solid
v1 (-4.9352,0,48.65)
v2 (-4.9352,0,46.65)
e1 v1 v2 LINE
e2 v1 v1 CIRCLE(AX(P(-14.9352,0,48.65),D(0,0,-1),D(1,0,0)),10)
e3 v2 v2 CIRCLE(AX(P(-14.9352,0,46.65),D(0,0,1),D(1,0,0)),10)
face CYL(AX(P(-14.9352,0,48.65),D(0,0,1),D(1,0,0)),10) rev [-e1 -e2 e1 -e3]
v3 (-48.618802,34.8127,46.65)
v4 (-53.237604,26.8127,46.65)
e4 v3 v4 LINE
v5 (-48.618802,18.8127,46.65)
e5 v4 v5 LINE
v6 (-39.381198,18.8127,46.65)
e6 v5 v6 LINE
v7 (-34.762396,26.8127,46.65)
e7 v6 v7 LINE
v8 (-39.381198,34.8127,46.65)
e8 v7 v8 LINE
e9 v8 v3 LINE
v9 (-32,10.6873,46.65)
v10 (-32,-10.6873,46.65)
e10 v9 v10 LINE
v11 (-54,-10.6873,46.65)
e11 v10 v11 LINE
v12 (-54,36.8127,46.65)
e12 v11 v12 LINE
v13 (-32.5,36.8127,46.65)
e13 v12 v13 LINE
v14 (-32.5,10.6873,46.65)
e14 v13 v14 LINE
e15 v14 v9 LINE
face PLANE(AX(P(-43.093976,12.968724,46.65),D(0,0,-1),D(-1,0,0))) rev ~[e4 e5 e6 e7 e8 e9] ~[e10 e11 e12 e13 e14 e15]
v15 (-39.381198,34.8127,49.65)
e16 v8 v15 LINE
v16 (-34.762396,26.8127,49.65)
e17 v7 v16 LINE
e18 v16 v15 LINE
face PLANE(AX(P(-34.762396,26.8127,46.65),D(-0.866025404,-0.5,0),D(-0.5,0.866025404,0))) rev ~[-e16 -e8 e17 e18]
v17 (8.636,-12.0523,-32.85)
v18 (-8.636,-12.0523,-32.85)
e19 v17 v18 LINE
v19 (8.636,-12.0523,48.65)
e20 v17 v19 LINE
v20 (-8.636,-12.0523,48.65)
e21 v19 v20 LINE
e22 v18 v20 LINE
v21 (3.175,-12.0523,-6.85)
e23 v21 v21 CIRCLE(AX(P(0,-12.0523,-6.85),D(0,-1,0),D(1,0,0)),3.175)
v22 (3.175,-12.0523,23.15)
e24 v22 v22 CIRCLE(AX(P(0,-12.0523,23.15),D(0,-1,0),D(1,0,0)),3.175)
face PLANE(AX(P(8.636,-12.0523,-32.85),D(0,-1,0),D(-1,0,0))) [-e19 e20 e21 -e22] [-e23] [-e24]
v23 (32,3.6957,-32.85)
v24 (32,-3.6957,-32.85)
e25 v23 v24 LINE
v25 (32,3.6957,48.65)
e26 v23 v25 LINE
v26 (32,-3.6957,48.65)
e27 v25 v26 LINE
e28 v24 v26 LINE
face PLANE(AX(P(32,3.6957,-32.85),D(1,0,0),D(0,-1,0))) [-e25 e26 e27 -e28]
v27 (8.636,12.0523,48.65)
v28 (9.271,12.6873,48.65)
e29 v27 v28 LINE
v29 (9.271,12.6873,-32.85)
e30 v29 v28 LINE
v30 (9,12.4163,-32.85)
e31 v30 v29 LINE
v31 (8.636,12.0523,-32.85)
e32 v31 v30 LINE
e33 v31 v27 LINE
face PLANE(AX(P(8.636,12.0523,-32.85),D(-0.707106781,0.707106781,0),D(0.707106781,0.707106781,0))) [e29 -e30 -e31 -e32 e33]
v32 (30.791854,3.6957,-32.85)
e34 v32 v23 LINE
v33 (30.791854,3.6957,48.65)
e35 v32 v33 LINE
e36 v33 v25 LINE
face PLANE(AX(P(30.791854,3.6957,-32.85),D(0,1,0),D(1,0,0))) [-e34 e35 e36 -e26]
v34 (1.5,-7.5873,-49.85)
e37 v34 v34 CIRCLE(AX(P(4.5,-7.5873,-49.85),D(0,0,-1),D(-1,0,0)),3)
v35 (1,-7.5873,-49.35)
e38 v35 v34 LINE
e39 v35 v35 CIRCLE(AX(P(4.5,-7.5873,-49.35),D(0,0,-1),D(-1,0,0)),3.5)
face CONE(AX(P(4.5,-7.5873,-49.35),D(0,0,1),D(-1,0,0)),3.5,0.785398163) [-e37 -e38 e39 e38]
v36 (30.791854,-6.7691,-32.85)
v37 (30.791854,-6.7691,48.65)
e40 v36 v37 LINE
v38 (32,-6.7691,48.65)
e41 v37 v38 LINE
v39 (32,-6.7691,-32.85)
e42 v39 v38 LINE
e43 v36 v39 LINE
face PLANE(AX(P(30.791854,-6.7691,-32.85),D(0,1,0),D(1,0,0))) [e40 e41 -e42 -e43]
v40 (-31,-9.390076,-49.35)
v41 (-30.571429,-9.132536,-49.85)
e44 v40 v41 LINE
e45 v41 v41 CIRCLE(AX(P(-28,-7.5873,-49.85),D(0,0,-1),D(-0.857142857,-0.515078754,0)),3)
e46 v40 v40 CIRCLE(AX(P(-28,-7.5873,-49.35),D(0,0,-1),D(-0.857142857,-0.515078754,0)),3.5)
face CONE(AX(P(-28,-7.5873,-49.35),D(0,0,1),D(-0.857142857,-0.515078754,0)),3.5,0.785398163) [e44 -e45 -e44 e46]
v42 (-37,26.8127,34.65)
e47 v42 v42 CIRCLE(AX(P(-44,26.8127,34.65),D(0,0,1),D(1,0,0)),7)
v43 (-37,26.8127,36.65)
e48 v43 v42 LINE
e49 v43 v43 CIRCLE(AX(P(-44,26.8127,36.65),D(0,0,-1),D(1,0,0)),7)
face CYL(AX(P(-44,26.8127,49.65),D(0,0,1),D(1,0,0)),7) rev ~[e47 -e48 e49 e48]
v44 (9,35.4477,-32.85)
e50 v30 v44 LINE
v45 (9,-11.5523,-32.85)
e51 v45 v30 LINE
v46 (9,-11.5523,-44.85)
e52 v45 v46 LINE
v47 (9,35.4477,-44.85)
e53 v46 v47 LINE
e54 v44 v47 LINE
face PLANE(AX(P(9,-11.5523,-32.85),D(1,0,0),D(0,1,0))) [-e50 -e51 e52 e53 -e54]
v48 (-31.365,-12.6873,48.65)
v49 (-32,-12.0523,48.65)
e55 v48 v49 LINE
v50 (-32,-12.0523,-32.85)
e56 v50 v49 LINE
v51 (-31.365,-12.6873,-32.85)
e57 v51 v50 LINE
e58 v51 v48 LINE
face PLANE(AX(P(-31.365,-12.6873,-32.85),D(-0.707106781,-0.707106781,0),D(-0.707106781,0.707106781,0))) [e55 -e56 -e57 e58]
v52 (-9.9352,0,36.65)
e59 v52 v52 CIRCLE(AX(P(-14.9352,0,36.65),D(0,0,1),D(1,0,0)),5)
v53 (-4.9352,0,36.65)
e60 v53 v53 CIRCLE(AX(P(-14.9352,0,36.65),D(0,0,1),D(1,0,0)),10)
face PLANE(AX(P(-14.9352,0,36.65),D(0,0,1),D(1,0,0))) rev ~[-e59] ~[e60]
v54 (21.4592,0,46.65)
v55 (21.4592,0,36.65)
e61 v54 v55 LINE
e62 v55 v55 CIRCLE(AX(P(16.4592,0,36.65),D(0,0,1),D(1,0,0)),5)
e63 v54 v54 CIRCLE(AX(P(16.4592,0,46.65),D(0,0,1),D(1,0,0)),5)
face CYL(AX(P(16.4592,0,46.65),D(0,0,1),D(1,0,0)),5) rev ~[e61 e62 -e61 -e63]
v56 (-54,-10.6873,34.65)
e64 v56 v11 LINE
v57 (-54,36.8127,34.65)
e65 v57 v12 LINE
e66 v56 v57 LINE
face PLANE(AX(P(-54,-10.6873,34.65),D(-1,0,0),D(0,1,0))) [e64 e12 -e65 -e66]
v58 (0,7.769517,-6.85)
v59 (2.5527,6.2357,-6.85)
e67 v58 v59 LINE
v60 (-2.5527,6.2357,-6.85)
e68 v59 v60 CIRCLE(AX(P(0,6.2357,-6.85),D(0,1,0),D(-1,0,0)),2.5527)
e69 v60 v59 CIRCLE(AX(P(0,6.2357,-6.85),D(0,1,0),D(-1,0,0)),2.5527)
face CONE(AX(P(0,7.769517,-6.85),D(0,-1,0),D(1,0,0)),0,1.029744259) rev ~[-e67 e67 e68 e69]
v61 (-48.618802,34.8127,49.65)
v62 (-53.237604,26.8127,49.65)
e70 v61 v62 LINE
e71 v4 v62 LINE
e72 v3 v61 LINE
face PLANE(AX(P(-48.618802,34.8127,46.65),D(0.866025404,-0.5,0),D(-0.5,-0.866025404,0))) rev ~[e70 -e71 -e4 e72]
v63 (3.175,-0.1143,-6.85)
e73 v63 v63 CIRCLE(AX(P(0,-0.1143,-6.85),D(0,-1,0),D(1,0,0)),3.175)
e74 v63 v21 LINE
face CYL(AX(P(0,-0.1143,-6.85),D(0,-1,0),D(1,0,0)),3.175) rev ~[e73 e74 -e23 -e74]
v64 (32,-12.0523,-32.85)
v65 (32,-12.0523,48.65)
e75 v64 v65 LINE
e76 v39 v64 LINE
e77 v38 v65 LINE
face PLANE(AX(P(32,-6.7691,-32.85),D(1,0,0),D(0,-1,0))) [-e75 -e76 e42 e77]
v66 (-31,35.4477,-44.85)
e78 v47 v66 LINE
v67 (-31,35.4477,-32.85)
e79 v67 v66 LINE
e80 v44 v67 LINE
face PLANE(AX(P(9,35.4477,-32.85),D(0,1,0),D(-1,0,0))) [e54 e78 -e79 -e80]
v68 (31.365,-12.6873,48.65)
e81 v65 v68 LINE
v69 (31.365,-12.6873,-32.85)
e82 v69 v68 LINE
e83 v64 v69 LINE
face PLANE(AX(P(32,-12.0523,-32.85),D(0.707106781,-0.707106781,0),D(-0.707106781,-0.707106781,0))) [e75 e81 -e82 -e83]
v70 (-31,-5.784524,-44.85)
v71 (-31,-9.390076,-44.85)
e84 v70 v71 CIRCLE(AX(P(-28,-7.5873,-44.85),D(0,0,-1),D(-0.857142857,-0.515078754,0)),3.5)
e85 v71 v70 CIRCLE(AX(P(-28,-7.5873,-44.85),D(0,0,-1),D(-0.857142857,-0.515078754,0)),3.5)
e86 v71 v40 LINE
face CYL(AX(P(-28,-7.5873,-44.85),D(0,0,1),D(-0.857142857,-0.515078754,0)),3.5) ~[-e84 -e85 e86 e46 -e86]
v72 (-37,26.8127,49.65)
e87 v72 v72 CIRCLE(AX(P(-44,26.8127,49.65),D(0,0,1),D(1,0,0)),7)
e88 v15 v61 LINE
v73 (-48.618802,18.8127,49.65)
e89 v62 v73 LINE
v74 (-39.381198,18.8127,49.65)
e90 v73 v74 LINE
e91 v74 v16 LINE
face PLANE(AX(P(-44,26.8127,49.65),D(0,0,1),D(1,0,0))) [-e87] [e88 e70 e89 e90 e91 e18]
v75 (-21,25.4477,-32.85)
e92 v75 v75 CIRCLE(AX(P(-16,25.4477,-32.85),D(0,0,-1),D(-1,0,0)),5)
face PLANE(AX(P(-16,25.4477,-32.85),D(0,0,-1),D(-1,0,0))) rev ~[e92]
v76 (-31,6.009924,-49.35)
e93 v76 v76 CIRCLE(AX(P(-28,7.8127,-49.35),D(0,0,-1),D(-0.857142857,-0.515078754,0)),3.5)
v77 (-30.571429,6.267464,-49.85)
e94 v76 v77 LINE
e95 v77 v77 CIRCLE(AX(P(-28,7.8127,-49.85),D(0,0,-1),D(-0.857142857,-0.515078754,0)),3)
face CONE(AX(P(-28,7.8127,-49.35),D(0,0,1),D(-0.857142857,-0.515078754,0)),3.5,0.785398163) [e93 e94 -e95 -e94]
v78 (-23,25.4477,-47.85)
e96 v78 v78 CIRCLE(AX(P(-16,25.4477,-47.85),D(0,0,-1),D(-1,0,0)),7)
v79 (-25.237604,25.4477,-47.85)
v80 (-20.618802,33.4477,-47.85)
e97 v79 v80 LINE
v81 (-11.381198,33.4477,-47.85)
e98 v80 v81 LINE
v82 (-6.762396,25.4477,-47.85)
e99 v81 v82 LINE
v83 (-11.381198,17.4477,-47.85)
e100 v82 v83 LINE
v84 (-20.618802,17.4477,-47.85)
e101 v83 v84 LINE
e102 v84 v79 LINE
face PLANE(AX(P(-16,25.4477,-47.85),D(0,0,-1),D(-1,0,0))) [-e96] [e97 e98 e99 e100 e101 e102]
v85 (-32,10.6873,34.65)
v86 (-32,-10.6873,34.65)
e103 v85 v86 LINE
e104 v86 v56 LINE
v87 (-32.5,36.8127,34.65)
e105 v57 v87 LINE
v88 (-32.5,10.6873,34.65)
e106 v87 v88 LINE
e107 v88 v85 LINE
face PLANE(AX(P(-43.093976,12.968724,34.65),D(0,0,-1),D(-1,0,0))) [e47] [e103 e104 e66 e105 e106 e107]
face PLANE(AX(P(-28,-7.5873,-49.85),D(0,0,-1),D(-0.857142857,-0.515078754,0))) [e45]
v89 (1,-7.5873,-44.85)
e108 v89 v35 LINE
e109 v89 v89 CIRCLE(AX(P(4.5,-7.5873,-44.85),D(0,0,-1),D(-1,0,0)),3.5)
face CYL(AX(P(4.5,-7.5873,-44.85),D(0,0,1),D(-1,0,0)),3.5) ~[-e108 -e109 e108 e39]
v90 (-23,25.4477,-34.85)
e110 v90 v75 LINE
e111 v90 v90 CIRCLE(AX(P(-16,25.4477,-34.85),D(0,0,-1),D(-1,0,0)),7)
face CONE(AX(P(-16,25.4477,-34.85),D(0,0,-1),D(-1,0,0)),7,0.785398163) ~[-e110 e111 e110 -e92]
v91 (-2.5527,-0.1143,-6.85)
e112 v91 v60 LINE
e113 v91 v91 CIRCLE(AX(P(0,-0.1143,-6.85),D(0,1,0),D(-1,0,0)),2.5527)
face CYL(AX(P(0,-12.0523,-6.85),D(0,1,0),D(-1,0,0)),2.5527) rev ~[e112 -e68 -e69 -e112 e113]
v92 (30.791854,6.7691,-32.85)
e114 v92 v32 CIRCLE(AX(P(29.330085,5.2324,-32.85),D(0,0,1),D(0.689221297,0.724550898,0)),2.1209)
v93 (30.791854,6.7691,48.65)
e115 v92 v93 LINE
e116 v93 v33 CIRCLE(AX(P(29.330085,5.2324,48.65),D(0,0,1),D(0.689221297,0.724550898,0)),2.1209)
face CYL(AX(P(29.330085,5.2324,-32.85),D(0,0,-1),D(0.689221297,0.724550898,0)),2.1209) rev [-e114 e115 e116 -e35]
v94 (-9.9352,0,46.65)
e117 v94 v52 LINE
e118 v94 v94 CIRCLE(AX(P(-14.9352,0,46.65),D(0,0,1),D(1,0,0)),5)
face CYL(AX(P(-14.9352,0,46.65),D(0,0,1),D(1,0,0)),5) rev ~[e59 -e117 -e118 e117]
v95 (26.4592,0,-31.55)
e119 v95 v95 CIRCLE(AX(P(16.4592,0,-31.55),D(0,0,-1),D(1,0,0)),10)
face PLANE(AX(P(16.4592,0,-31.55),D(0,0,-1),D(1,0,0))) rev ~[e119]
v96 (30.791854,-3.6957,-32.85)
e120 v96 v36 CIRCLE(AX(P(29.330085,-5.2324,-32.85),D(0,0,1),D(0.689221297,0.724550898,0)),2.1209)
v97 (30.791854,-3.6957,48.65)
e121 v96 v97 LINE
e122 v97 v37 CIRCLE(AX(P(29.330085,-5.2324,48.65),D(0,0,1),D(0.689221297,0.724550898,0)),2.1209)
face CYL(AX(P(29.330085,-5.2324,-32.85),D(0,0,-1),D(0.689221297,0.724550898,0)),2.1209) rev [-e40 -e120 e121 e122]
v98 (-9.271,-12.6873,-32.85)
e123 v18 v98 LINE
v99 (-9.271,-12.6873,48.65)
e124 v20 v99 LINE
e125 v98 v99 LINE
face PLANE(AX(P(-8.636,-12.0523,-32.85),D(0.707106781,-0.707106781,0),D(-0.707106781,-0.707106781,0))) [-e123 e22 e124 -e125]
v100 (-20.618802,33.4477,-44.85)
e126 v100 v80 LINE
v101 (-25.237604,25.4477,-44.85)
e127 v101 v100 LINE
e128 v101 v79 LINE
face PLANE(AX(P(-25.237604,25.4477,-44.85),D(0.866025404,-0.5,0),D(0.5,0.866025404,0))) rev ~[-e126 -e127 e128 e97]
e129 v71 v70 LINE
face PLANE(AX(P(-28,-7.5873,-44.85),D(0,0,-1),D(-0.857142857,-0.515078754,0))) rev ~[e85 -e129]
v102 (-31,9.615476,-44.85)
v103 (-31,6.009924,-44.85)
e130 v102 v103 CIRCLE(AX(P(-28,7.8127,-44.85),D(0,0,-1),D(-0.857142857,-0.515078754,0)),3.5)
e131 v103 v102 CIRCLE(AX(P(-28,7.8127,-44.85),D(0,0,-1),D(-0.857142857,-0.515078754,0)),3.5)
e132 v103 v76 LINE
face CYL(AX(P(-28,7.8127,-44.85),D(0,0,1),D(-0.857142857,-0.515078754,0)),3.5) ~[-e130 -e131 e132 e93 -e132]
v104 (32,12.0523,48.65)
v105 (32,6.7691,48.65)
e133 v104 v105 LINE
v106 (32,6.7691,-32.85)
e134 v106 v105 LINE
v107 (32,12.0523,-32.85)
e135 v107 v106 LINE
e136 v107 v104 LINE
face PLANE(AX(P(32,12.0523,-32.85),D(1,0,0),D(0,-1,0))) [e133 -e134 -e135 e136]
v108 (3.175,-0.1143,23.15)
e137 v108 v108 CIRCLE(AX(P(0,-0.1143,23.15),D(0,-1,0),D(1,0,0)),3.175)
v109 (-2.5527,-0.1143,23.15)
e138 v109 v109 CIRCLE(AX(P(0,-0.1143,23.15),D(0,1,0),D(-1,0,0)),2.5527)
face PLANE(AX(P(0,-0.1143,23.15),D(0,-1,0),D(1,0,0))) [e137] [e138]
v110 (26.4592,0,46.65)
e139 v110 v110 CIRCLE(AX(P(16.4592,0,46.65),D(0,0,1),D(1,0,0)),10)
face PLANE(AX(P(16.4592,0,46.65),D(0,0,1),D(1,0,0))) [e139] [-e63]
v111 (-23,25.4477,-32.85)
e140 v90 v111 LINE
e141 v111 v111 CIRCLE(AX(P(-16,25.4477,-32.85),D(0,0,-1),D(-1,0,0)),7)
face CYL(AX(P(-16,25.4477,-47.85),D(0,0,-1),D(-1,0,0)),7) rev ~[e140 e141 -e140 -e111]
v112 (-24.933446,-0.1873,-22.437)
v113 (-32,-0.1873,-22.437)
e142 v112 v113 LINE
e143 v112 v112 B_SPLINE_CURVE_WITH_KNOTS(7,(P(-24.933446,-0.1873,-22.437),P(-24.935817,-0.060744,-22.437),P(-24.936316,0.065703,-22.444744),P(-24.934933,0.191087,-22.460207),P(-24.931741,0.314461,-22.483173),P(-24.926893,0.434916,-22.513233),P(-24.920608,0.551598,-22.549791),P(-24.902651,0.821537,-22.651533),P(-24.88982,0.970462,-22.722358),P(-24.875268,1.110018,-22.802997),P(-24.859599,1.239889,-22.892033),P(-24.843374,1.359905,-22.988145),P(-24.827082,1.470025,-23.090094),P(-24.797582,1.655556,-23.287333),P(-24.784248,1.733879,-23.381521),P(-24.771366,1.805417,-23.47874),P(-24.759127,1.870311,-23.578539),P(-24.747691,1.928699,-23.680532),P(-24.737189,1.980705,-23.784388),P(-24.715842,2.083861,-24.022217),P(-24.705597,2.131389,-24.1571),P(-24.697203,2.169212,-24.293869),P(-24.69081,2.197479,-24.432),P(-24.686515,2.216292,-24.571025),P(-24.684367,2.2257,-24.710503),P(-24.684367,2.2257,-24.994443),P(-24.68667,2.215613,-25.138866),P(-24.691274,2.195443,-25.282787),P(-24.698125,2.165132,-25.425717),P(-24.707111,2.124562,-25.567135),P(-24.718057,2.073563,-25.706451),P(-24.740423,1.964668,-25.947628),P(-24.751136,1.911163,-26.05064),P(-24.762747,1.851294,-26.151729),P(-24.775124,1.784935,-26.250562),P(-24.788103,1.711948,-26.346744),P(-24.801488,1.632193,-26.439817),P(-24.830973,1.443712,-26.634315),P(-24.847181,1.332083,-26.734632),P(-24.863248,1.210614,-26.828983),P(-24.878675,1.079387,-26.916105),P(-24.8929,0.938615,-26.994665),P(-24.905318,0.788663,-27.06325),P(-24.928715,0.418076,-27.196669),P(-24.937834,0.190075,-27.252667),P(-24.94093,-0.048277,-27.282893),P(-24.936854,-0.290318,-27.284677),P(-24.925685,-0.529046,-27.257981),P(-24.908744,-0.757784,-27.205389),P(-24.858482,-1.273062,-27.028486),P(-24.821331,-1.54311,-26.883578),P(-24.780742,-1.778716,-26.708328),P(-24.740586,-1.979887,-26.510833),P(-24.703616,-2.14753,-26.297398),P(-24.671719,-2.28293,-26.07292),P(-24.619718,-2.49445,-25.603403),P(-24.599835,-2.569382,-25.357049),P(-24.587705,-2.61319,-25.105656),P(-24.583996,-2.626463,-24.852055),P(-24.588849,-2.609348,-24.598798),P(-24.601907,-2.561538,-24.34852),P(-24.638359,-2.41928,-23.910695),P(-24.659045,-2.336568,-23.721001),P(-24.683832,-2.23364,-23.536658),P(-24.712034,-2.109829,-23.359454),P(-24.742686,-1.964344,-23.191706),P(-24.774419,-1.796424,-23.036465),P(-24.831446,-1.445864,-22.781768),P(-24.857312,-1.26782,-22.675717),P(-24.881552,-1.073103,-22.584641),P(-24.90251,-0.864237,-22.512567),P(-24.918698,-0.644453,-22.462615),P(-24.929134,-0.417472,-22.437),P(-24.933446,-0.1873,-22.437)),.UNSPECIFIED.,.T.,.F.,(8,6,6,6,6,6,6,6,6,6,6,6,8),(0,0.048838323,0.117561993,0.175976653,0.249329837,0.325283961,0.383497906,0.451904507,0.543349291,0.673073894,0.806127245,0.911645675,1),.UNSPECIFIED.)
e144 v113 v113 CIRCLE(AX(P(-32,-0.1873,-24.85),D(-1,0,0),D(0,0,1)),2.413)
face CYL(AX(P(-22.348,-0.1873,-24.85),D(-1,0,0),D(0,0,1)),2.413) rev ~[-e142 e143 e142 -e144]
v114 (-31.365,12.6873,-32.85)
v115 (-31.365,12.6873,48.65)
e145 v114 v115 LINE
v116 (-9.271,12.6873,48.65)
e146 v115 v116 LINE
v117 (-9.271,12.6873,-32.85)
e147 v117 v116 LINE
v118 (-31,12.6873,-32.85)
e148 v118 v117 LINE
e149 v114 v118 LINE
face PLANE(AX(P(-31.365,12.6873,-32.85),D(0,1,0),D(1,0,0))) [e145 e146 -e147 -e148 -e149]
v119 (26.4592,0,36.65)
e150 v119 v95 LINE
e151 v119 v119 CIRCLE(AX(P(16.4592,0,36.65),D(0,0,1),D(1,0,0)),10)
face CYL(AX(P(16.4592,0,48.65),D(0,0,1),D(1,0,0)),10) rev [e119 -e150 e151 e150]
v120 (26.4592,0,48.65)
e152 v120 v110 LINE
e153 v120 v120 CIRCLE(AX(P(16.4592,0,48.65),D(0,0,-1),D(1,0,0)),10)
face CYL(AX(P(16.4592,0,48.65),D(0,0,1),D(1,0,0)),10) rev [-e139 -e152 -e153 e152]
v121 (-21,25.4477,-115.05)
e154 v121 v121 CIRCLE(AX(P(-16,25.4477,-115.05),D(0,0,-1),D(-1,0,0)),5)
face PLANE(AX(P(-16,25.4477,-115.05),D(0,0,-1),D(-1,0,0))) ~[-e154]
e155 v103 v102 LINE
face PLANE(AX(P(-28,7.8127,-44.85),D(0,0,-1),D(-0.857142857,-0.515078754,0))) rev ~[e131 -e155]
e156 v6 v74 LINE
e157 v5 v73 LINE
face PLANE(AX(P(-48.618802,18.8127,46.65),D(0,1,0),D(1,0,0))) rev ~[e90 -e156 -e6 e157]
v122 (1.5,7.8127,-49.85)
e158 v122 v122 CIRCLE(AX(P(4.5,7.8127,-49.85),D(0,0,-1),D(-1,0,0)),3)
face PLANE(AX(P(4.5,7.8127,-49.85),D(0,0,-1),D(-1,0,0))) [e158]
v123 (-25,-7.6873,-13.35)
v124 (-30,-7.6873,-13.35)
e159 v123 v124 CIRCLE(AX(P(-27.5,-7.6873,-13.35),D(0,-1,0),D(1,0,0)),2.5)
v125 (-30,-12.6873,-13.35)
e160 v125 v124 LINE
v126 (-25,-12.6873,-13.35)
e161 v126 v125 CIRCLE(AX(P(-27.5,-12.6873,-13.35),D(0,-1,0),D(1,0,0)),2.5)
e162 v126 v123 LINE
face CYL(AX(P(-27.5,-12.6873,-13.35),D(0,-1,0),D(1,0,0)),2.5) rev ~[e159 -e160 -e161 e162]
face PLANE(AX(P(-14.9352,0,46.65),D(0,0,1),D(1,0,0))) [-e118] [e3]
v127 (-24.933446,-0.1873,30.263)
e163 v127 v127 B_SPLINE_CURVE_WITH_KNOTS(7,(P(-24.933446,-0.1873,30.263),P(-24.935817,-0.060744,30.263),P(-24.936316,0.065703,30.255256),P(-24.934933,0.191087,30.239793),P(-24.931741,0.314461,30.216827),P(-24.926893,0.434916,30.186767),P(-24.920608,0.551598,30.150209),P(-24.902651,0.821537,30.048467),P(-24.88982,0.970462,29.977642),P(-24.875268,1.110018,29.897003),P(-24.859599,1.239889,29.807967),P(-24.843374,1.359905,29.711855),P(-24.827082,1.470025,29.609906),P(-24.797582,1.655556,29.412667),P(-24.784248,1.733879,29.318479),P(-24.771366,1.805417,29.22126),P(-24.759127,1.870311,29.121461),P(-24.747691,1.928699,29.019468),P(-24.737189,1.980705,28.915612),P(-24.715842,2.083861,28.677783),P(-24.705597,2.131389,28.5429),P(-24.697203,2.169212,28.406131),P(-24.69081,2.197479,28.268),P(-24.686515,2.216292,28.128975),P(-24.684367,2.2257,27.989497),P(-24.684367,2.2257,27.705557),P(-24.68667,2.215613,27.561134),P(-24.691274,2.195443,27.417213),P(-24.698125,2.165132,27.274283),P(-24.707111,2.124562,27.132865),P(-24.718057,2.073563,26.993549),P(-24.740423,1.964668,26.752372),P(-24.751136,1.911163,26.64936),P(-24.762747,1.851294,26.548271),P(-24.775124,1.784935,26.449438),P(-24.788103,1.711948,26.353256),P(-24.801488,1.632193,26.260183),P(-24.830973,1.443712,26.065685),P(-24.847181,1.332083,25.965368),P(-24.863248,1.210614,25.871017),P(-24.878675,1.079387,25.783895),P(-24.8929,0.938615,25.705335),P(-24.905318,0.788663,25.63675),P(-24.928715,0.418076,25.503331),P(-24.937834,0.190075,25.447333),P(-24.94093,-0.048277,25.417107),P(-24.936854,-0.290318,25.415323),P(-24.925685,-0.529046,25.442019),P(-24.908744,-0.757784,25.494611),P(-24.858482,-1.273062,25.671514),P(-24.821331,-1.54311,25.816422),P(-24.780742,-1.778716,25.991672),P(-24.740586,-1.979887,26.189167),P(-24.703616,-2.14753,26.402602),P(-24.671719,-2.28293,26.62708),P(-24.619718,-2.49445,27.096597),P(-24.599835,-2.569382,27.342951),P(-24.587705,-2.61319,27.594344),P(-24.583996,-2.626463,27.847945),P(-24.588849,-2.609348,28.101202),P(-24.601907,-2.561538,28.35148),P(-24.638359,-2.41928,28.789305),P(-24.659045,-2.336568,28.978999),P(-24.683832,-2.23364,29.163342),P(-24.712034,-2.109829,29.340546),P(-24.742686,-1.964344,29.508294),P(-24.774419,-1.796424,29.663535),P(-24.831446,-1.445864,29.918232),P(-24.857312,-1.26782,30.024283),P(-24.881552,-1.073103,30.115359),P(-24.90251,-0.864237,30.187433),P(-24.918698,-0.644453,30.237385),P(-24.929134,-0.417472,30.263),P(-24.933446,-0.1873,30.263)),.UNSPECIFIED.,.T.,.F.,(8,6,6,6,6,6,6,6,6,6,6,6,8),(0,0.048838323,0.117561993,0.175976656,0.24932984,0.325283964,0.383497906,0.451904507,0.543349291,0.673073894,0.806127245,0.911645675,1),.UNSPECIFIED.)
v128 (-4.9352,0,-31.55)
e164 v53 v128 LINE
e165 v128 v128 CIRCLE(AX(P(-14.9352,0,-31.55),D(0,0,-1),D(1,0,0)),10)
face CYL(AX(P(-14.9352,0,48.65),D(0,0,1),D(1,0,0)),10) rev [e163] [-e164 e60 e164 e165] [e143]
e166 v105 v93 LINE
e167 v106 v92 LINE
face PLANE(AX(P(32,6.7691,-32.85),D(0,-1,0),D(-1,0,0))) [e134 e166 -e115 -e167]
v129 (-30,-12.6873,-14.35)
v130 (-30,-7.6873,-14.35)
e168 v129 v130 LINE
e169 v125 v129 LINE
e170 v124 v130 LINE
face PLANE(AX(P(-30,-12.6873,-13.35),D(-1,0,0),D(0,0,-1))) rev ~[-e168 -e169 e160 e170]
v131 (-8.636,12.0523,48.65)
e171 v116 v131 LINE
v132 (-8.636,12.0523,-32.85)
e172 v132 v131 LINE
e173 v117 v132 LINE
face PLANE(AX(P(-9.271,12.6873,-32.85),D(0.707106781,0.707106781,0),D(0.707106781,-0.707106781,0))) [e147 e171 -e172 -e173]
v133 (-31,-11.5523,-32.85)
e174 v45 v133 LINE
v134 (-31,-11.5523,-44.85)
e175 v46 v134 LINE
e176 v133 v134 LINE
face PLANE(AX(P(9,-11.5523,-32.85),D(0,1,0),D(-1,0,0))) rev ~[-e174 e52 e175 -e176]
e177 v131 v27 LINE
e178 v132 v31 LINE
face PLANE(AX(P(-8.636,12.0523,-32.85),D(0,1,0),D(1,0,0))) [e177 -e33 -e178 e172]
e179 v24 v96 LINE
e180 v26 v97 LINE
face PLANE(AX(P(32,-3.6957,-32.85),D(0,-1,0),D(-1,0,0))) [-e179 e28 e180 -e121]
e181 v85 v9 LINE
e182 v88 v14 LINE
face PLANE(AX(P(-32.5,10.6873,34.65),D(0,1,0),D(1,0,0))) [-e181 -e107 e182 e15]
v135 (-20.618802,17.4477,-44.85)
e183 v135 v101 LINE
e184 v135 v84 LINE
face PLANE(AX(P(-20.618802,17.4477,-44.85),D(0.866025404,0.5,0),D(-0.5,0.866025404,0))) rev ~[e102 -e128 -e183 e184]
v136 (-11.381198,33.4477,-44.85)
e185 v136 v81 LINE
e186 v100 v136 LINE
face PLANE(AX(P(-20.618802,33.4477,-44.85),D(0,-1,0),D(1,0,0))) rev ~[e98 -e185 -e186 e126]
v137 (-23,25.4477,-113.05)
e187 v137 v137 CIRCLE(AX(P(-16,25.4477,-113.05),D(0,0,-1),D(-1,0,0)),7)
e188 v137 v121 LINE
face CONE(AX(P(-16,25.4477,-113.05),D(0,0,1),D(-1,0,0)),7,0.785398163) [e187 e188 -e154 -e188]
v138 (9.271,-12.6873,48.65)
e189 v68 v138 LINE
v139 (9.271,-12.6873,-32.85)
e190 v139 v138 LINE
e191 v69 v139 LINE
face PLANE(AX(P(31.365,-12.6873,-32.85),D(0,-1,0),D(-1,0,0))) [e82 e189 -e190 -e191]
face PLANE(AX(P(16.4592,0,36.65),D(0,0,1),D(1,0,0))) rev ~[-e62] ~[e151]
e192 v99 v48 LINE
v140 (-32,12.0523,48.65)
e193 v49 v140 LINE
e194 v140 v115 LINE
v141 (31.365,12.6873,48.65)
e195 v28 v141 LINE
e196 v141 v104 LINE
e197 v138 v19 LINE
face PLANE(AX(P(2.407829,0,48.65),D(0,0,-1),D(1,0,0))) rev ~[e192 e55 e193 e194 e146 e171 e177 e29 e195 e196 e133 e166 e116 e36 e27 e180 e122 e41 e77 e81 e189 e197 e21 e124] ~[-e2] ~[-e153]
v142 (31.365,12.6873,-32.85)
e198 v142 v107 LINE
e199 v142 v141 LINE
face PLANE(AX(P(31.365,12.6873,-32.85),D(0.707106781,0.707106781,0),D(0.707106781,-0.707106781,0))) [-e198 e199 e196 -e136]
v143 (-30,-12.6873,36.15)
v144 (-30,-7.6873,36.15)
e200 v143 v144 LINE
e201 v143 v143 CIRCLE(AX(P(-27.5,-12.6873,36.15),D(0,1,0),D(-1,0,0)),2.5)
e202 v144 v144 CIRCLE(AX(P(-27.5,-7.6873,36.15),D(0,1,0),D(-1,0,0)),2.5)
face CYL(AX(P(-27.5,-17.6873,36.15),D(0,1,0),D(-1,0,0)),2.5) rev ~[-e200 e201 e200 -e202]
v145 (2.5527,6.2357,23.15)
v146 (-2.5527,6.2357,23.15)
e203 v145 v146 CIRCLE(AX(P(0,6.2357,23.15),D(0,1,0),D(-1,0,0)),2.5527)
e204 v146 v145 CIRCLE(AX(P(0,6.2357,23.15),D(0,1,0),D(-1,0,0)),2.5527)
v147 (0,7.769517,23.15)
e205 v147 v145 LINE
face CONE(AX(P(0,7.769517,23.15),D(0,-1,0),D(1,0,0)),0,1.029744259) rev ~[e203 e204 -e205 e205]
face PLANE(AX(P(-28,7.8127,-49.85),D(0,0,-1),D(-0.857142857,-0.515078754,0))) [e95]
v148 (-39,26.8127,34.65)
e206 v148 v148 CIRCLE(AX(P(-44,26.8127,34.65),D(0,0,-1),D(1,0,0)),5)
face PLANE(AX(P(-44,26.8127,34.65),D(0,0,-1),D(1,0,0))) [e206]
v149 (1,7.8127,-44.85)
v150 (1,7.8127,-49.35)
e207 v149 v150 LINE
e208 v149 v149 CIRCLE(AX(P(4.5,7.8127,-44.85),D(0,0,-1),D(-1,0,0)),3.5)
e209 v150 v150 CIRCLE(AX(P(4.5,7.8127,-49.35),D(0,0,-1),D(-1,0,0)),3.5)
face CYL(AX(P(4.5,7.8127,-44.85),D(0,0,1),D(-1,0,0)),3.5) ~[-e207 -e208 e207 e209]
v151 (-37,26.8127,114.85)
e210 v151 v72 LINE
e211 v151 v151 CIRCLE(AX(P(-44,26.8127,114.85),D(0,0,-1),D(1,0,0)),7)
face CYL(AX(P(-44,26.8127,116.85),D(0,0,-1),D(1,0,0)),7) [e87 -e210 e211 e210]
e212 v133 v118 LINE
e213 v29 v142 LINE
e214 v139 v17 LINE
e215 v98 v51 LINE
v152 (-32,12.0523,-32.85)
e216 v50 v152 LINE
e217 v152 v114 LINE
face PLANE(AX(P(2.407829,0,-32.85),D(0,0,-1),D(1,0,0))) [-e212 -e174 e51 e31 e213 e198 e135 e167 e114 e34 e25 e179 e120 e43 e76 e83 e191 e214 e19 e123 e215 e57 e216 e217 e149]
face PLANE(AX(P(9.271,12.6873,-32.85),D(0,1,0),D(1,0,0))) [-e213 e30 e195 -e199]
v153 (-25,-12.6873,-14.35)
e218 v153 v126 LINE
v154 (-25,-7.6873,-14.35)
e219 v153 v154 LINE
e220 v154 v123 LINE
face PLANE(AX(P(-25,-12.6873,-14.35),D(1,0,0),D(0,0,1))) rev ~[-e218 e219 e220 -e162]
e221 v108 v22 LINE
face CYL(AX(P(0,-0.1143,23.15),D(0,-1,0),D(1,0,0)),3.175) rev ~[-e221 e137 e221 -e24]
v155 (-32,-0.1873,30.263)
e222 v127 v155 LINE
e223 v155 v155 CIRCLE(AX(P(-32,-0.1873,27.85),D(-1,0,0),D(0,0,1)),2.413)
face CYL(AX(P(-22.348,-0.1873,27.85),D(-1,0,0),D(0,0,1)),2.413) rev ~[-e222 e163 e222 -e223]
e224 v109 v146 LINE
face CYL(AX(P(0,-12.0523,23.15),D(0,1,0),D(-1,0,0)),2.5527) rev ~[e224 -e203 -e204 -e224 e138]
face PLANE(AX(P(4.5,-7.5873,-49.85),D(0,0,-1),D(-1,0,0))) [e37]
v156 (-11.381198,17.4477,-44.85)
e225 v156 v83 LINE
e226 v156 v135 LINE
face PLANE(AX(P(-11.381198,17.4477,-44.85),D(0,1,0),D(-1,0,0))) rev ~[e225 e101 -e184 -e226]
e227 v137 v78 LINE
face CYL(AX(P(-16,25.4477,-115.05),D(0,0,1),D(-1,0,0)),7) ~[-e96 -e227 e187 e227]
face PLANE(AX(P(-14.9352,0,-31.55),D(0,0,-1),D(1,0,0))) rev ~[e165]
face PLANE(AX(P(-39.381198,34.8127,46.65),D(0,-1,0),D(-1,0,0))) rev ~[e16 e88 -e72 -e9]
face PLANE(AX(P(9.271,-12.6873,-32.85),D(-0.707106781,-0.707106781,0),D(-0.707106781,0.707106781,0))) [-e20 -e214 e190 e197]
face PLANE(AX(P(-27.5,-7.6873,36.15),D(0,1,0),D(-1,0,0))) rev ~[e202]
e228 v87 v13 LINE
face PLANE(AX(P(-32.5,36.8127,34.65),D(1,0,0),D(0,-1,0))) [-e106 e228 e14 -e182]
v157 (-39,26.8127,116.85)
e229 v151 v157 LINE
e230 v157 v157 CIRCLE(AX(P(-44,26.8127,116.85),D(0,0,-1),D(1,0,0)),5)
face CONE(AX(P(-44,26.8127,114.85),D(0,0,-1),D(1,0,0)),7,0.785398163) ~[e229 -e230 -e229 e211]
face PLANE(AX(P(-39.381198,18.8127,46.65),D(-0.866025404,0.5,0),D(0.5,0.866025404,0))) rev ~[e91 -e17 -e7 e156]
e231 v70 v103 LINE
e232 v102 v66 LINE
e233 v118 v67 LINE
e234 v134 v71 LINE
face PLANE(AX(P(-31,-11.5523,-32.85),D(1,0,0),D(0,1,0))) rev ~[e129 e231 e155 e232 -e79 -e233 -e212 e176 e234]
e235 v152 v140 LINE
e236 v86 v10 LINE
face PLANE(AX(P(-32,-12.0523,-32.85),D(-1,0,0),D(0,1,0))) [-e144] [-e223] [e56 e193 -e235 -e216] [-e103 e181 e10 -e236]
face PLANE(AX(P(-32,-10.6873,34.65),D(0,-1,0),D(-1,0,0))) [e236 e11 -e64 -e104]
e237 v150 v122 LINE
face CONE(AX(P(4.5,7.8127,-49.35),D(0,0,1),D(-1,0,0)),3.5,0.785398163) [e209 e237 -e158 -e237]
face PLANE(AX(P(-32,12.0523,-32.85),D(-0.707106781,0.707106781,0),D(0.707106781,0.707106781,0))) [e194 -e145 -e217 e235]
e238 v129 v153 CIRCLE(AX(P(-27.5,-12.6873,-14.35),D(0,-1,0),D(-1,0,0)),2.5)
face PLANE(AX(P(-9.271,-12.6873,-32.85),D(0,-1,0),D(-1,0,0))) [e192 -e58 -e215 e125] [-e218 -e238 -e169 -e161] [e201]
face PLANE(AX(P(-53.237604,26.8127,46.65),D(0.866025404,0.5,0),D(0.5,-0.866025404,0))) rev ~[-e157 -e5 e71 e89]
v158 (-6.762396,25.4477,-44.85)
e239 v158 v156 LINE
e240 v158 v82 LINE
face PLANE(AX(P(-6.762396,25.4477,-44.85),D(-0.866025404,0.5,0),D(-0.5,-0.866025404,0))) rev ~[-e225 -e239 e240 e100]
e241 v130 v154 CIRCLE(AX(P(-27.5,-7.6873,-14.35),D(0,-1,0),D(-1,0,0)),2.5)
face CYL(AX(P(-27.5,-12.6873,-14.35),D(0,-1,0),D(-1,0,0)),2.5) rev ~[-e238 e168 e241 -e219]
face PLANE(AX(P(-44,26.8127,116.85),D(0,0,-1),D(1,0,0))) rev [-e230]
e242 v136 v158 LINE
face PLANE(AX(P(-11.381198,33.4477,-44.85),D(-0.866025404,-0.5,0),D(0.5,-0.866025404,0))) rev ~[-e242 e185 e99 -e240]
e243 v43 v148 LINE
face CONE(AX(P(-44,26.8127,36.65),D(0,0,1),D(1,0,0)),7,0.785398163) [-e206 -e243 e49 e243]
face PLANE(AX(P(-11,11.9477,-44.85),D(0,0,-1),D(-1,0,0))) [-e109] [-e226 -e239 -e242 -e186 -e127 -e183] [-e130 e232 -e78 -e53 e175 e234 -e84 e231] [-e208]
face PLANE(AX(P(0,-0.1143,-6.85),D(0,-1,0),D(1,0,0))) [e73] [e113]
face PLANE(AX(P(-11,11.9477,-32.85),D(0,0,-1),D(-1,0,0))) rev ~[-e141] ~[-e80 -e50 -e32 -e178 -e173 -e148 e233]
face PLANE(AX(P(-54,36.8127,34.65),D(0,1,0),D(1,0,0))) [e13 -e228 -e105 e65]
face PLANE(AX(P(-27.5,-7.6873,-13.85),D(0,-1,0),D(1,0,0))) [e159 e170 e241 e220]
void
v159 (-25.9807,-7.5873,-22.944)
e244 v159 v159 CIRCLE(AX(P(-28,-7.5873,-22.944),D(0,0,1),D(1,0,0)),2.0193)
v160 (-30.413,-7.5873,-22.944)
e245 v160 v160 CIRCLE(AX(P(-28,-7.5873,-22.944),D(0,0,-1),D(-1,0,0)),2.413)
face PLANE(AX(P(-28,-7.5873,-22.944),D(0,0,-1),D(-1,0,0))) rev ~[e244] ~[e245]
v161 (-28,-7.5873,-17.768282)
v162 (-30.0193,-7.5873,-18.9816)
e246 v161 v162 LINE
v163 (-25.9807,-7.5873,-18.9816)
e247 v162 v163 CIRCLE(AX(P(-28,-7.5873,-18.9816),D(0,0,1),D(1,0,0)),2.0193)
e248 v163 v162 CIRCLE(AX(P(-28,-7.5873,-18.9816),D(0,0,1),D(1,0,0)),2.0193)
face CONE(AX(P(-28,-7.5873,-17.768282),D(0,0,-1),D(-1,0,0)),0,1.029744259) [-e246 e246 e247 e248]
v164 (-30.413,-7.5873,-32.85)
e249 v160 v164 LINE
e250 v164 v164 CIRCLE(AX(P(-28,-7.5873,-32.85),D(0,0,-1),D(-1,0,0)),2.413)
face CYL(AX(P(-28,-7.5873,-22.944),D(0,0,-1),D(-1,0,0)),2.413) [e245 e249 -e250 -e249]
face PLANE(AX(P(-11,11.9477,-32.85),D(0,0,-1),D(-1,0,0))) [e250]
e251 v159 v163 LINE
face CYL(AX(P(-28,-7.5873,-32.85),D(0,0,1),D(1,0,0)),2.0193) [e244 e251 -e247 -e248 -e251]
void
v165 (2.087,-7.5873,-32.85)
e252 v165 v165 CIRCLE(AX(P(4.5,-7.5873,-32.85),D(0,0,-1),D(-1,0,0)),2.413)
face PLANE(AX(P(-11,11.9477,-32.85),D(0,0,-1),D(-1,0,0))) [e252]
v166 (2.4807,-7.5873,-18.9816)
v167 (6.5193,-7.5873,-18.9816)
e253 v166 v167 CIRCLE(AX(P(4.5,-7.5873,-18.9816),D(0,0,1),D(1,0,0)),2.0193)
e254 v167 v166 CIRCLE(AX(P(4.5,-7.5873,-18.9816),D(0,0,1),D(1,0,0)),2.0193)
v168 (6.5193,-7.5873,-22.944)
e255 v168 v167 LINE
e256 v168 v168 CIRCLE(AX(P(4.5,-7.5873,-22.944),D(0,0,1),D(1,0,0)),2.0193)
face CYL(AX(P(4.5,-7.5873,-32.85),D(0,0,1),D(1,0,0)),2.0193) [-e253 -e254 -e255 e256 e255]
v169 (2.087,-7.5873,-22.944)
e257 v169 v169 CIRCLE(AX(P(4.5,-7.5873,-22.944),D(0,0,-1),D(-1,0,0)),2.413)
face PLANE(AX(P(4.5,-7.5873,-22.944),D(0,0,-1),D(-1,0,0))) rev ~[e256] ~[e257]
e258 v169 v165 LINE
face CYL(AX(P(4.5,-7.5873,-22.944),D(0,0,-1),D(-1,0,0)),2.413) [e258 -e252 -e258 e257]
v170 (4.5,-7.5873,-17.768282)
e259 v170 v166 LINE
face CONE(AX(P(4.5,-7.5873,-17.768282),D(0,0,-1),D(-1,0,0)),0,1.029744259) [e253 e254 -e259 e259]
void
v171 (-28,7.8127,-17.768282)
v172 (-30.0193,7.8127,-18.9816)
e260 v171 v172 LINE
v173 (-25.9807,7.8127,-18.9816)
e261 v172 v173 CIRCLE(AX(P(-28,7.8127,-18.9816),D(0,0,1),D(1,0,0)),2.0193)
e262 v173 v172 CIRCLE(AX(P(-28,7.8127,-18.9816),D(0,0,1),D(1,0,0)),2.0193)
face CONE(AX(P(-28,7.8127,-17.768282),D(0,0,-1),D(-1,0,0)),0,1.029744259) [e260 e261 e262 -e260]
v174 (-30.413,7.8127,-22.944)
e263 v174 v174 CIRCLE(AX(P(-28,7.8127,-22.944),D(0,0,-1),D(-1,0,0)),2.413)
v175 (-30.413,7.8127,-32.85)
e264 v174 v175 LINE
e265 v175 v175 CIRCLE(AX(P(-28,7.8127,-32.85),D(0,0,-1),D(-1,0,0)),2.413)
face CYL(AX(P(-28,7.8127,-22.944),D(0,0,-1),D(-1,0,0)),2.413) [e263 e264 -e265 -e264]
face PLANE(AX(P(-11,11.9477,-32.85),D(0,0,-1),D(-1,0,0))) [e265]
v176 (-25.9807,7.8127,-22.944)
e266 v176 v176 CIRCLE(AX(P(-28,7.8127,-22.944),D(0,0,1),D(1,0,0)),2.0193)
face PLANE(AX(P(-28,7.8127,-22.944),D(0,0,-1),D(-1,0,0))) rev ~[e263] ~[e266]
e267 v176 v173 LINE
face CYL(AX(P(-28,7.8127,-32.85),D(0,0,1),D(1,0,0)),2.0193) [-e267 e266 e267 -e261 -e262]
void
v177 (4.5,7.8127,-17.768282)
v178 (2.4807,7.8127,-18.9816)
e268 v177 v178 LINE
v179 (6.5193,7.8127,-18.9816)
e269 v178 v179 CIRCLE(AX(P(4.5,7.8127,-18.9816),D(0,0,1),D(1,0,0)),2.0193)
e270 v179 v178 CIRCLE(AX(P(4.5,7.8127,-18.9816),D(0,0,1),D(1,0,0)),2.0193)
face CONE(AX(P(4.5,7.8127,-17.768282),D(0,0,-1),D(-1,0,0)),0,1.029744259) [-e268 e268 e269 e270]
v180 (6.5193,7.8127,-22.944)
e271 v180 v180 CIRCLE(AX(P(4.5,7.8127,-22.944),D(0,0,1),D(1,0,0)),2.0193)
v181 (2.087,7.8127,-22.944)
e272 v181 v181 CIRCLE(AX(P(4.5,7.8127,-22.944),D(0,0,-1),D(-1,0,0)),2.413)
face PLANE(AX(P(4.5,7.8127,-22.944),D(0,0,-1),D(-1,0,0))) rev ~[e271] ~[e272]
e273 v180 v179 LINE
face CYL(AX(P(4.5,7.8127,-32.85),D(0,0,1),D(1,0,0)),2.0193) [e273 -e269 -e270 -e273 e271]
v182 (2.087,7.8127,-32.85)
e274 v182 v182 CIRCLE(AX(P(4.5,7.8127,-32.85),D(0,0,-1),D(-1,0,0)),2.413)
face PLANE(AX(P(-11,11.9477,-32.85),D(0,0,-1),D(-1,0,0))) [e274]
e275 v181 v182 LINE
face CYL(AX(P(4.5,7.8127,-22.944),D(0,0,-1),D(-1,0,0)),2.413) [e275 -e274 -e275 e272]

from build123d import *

# Parameters (mm, degrees)
BASE_EXTRUDE_START                = -81.5
BASE_EXTRUDE_DEPTH                = 81.5
SKETCH2_R                         = 10
CUT_EXTRUDE1_DEPTH                = 80.2
SKETCH4_R                         = 10
BOSS_EXTRUDE1_DEPTH               = 10
CUT_EXTRUDE3_REACH                = 88.633
SKETCH19_R                        = 5
F_1_4_20_TAPPED_HOLE1_D           = 5.1054
F_1_4_20_TAPPED_HOLE1_DEPTH       = 18.288
F_1_4_20_TAPPED_HOLE1_CBORE_D     = 6.35
F_1_4_20_TAPPED_HOLE1_CBORE_DEPTH = 11.938
F_1_4_20_TAPPED_HOLE1_TIP         = 1.533816902
F_10_32_TAPPED_HOLE2_D            = 4.0386
F_10_32_TAPPED_HOLE2_DEPTH        = 13.8684
F_10_32_TAPPED_HOLE2_CBORE_D      = 4.826
F_10_32_TAPPED_HOLE2_CBORE_DEPTH  = 9.906
F_10_32_TAPPED_HOLE2_TIP          = 1.213317848
HOLE1_D                           = 5
HOLE1_DEPTH                       = 5
CUT_EXTRUDE4_DEPTH                = 5
F_10_32_TAPPED_HOLE1_D            = 4.0386
F_10_32_TAPPED_HOLE1_DEPTH        = 13.6144
F_10_32_TAPPED_HOLE1_CBORE_D      = 4.826
F_10_32_TAPPED_HOLE1_CBORE_DEPTH  = 9.652
F_10_32_TAPPED_HOLE1_TIP          = 1.213317848
SKETCH30_W                        = 40
SKETCH30_H                        = 47
BOSS_EXTRUDE2_DEPTH               = 12
BOSS_EXTRUDE3_DEPTH               = 3
SKETCH35_R                        = 3.5
BOSS_EXTRUDE5_DEPTH               = 5
CHAMFER2_SIZE                     = 0.5
BOSS_EXTRUDE6_DEPTH               = 12
BOSS_EXTRUDE7_DEPTH               = 3
CUT_EXTRUDE7_REACH                = 121.044
SKETCH38_R                        = 7
CUT_EXTRUDE8_REACH                = 179.193
SKETCH46_R                        = 7
CHAMFER3_SIZE                     = 2


with BuildPart() as part:
    # Sketch1 → Base-Extrude (new body)
    with BuildSketch(Plane(origin=(0, 0, 48.65), x_dir=(-1, 0, 0), z_dir=(0, 0, 1)).offset(BASE_EXTRUDE_START)):
        with BuildLine():
            Line((31.365, 12.6873), (32, 12.0523))
            Line((32, 12.0523), (32, -12.0523))
            Line((32, -12.0523), (31.365, -12.6873))
            Line((31.365, -12.6873), (9.271, -12.6873))
            Line((9.271, -12.6873), (8.636, -12.0523))
            Line((8.636, -12.0523), (-8.636, -12.0523))
            Line((-8.636, -12.0523), (-9.271, -12.6873))
            Line((-9.271, -12.6873), (-31.365, -12.6873))
            Line((-31.365, -12.6873), (-32, -12.0523))
            Line((-32, -12.0523), (-32, -6.7691))
            Line((-32, -6.7691), (-30.791853982, -6.7691))
            ThreePointArc((-30.791853982, -6.7691), (-27.209184534, -5.2324), (-30.791853982, -3.6957))
            Line((-30.791853982, -3.6957), (-32, -3.6957))
            Line((-32, -3.6957), (-32, 3.6957))
            Line((-32, 3.6957), (-30.791853982, 3.6957))
            ThreePointArc((-30.791853982, 3.6957), (-27.209184534, 5.2324), (-30.791853982, 6.7691))
            Line((-30.791853982, 6.7691), (-32, 6.7691))
            Line((-32, 6.7691), (-32, 12.0523))
            Line((-32, 12.0523), (-31.365, 12.6873))
            Line((-31.365, 12.6873), (-9.271, 12.6873))
            Line((-9.271, 12.6873), (-8.636, 12.0523))
            Line((-8.636, 12.0523), (8.636, 12.0523))
            Line((8.636, 12.0523), (9.271, 12.6873))
            Line((9.271, 12.6873), (31.365, 12.6873))
        make_face()
    extrude(amount=BASE_EXTRUDE_DEPTH)

    # Sketch2 → Cut-Extrude1 (cut)
    with BuildSketch(Plane(origin=(0, 0, 48.65), x_dir=(-1, 0, 0), z_dir=(0, 0, -1))):
        with Locations(Location((-16.4592, 0, 0), (0, 0, 180))):
            Circle(SKETCH2_R)
        with Locations(Location((14.9352, 0, 0), (0, 0, 180))):
            Circle(SKETCH2_R)
    extrude(amount=CUT_EXTRUDE1_DEPTH, mode=Mode.SUBTRACT)

    # Sketch4 → Boss-Extrude1 (add)
    with BuildSketch(Plane.XY.offset(46.65)):
        with Locations((16.4592, 0)):
            Circle(SKETCH4_R)
        with Locations((-14.9352, 0)):
            Circle(SKETCH4_R)
    extrude(amount=-BOSS_EXTRUDE1_DEPTH)

    # Sketch19 → Cut-Extrude3 (cut, up to next)
    with BuildSketch(Plane.XY.offset(46.65), mode=Mode.PRIVATE) as cut_extrude3_sk1:
        with Locations((16.4592, 0)):
            Circle(SKETCH19_R)
    cut_extrude3_tool1 = extrude(cut_extrude3_sk1.sketch, amount=-CUT_EXTRUDE3_REACH, mode=Mode.PRIVATE) & part.part
    # Sketch19 → Cut-Extrude3 (cut, up to next)
    with BuildSketch(Plane.XY.offset(46.65), mode=Mode.PRIVATE) as cut_extrude3_sk2:
        with Locations((-14.9352, 0)):
            Circle(SKETCH19_R)
    cut_extrude3_tool2 = extrude(cut_extrude3_sk2.sketch, amount=-CUT_EXTRUDE3_REACH, mode=Mode.PRIVATE) & part.part
    add(cut_extrude3_tool1.solids().sort_by_distance((16.4592, 0, 46.65))[0], mode=Mode.SUBTRACT)
    add(cut_extrude3_tool2.solids().sort_by_distance((-14.9352, 0, 46.65))[0], mode=Mode.SUBTRACT)

    # 1/4-20 Tapped Hole1
    with Locations(Plane.XZ.offset(12.0523)):
        with Locations((0, 23.15), (0, -6.85)):
            CounterBoreHole(F_1_4_20_TAPPED_HOLE1_D / 2, F_1_4_20_TAPPED_HOLE1_CBORE_D / 2, F_1_4_20_TAPPED_HOLE1_CBORE_DEPTH, depth=F_1_4_20_TAPPED_HOLE1_DEPTH)
            with Locations((0, 0, -(F_1_4_20_TAPPED_HOLE1_DEPTH + F_1_4_20_TAPPED_HOLE1_TIP / 2))):  # 118° drill point
                Cone(0, F_1_4_20_TAPPED_HOLE1_D / 2, F_1_4_20_TAPPED_HOLE1_TIP, mode=Mode.SUBTRACT)

    # #10-32 Tapped Hole2
    with Locations(Plane(origin=(0, 0, -32.85), x_dir=(-1, 0, 0), z_dir=(0, 0, -1))):
        with Locations((28, -7.5873), (28, 7.8127), (-4.5, -7.5873), (-4.5, 7.8127)):
            CounterBoreHole(F_10_32_TAPPED_HOLE2_D / 2, F_10_32_TAPPED_HOLE2_CBORE_D / 2, F_10_32_TAPPED_HOLE2_CBORE_DEPTH, depth=F_10_32_TAPPED_HOLE2_DEPTH)
            with Locations((0, 0, -(F_10_32_TAPPED_HOLE2_DEPTH + F_10_32_TAPPED_HOLE2_TIP / 2))):  # 118° drill point
                Cone(0, F_10_32_TAPPED_HOLE2_D / 2, F_10_32_TAPPED_HOLE2_TIP, mode=Mode.SUBTRACT)

    # Hole1
    with Locations(Plane.XZ.offset(12.6873)):
        with Locations((-27.5, 36.15)):
            Hole(HOLE1_D / 2, depth=HOLE1_DEPTH)

    # Sketch27 → Cut-Extrude4 (cut)
    with BuildSketch(Plane.XZ.offset(12.6873)):
        with BuildLine():
            Line((-30, -13.35), (-30, -14.35))
            ThreePointArc((-30, -14.35), (-27.5, -16.85), (-25, -14.35))
            Line((-25, -14.35), (-25, -13.35))
            ThreePointArc((-25, -13.35), (-27.5, -10.85), (-30, -13.35))
        make_face()
    extrude(amount=-CUT_EXTRUDE4_DEPTH, mode=Mode.SUBTRACT)

    # #10-32 Tapped Hole1
    with Locations(Plane.ZY.offset(32)):
        with Locations((27.85, -0.1873), (-24.85, -0.1873)):
            CounterBoreHole(F_10_32_TAPPED_HOLE1_D / 2, F_10_32_TAPPED_HOLE1_CBORE_D / 2, F_10_32_TAPPED_HOLE1_CBORE_DEPTH, depth=F_10_32_TAPPED_HOLE1_DEPTH)
            with Locations((0, 0, -(F_10_32_TAPPED_HOLE1_DEPTH + F_10_32_TAPPED_HOLE1_TIP / 2))):  # 118° drill point
                Cone(0, F_10_32_TAPPED_HOLE1_D / 2, F_10_32_TAPPED_HOLE1_TIP, mode=Mode.SUBTRACT)

    # Sketch30 → Boss-Extrude2 (add)
    with BuildSketch(Plane(origin=(0, 0, -32.85), x_dir=(-1, 0, 0), z_dir=(0, 0, -1))):
        with Locations((11, 11.9477)):
            Rectangle(SKETCH30_W, SKETCH30_H)
    extrude(amount=BOSS_EXTRUDE2_DEPTH)

    # Sketch31 → Boss-Extrude3 (add)
    with BuildSketch(Plane(origin=(0, 0, -44.85), x_dir=(-1, 0, 0), z_dir=(0, 0, -1))):
        Polygon((25.237604307, 25.4477), (20.618802154, 33.4477), (11.381197846, 33.4477), (6.762395693, 25.4477), (11.381197846, 17.4477), (20.618802154, 17.4477), align=None)
    extrude(amount=BOSS_EXTRUDE3_DEPTH)

    # Sketch35 → Boss-Extrude5 (add)
    with BuildSketch(Plane(origin=(0, 0, -44.85), x_dir=(-1, 0, 0), z_dir=(0, 0, -1))):
        with Locations(Location((28, 7.8127, 0), (0, 0, 328.997280866))):
            Circle(SKETCH35_R)
        with Locations((-4.5, 7.8127)):
            Circle(SKETCH35_R)
        with Locations((-4.5, -7.5873)):
            Circle(SKETCH35_R)
        with Locations(Location((28, -7.5873, 0), (0, 0, 328.997280866))):
            Circle(SKETCH35_R)
    extrude(amount=BOSS_EXTRUDE5_DEPTH)

    # Chamfer2
    chamfer2_edges = [part.edges().sort_by_distance(p)[0] for p in [
        (-25, 9.615475638, -49.85),
        (8, 7.8127, -49.85),
        (8, -7.5873, -49.85),
        (-25, -5.784524362, -49.85),
    ]]
    chamfer(chamfer2_edges, length=CHAMFER2_SIZE)

    # Sketch36 → Boss-Extrude6 (add)
    with BuildSketch(Plane.XY.offset(34.65)):
        Polygon((-32.5, 36.8127), (-32.5, 10.6873), (-32, 10.6873), (-32, -10.6873), (-54, -10.6873), (-54, 36.8127), align=None)
    extrude(amount=BOSS_EXTRUDE6_DEPTH)

    # Sketch37 → Boss-Extrude7 (add)
    with BuildSketch(Plane.XY.offset(46.65)):
        Polygon((-39.381197846, 34.8127), (-48.618802154, 34.8127), (-53.237604307, 26.8127), (-48.618802154, 18.8127), (-39.381197846, 18.8127), (-34.762395693, 26.8127), align=None)
    extrude(amount=BOSS_EXTRUDE7_DEPTH)

    # Sketch38 → Cut-Extrude7 (cut, up to next)
    with BuildSketch(Plane.XY.offset(49.65), mode=Mode.PRIVATE) as cut_extrude7_sk1:
        with Locations((-44, 26.8127)):
            Circle(SKETCH38_R)
    cut_extrude7_tool1 = extrude(cut_extrude7_sk1.sketch, amount=-CUT_EXTRUDE7_REACH, mode=Mode.PRIVATE) & part.part
    add(cut_extrude7_tool1.solids().sort_by_distance((-44, 26.8127, 49.65))[0], mode=Mode.SUBTRACT)

    # Sketch44 → Boss-Revolve1 (revolve)
    with BuildSketch(Plane(origin=(0, 26.8127, 0), x_dir=(-1, 0, 0), z_dir=(0, 1, 0)), mode=Mode.PRIVATE) as boss_revolve1_sk:
        Polygon((44, 116.85), (51, 116.85), (51, 36.65), (49, 34.65), (44, 34.65), align=None)
    revolve(boss_revolve1_sk.sketch.rotate(Axis((-44, 26.8127, 49.65), (0, 0, -1)), 180), axis=Axis((-44, 26.8127, 49.65), (0, 0, -1)))

    # Sketch46 → Cut-Extrude8 (cut, up to next)
    with BuildSketch(Plane(origin=(0, 0, -47.85), x_dir=(-1, 0, 0), z_dir=(0, 0, -1)), mode=Mode.PRIVATE) as cut_extrude8_sk1:
        with Locations((16, 25.4477)):
            Circle(SKETCH46_R)
    cut_extrude8_tool1 = extrude(cut_extrude8_sk1.sketch, amount=-CUT_EXTRUDE8_REACH, mode=Mode.PRIVATE) & part.part
    add(cut_extrude8_tool1.solids().sort_by_distance((-16, 25.4477, -47.85))[0], mode=Mode.SUBTRACT)

    # Sketch47 → Boss-Revolve2 (revolve)
    with BuildSketch(Plane(origin=(0, 25.4477, 0), x_dir=(-1, 0, 0), z_dir=(0, 1, 0))):
        Polygon((21, -32.85), (16, -32.85), (16, -115.05), (23, -115.05), (23, -34.85), align=None)
    revolve(axis=Axis((-16, 25.4477, -32.85), (0, 0, -1)))

    # Chamfer3
    chamfer3_edges = [part.edges().sort_by_distance(p)[0] for p in [
        (-51, 26.8127, 116.85),
        (-9, 25.4477, -115.05),
    ]]
    chamfer(chamfer3_edges, length=CHAMFER3_SIZE)


solid = part.part
